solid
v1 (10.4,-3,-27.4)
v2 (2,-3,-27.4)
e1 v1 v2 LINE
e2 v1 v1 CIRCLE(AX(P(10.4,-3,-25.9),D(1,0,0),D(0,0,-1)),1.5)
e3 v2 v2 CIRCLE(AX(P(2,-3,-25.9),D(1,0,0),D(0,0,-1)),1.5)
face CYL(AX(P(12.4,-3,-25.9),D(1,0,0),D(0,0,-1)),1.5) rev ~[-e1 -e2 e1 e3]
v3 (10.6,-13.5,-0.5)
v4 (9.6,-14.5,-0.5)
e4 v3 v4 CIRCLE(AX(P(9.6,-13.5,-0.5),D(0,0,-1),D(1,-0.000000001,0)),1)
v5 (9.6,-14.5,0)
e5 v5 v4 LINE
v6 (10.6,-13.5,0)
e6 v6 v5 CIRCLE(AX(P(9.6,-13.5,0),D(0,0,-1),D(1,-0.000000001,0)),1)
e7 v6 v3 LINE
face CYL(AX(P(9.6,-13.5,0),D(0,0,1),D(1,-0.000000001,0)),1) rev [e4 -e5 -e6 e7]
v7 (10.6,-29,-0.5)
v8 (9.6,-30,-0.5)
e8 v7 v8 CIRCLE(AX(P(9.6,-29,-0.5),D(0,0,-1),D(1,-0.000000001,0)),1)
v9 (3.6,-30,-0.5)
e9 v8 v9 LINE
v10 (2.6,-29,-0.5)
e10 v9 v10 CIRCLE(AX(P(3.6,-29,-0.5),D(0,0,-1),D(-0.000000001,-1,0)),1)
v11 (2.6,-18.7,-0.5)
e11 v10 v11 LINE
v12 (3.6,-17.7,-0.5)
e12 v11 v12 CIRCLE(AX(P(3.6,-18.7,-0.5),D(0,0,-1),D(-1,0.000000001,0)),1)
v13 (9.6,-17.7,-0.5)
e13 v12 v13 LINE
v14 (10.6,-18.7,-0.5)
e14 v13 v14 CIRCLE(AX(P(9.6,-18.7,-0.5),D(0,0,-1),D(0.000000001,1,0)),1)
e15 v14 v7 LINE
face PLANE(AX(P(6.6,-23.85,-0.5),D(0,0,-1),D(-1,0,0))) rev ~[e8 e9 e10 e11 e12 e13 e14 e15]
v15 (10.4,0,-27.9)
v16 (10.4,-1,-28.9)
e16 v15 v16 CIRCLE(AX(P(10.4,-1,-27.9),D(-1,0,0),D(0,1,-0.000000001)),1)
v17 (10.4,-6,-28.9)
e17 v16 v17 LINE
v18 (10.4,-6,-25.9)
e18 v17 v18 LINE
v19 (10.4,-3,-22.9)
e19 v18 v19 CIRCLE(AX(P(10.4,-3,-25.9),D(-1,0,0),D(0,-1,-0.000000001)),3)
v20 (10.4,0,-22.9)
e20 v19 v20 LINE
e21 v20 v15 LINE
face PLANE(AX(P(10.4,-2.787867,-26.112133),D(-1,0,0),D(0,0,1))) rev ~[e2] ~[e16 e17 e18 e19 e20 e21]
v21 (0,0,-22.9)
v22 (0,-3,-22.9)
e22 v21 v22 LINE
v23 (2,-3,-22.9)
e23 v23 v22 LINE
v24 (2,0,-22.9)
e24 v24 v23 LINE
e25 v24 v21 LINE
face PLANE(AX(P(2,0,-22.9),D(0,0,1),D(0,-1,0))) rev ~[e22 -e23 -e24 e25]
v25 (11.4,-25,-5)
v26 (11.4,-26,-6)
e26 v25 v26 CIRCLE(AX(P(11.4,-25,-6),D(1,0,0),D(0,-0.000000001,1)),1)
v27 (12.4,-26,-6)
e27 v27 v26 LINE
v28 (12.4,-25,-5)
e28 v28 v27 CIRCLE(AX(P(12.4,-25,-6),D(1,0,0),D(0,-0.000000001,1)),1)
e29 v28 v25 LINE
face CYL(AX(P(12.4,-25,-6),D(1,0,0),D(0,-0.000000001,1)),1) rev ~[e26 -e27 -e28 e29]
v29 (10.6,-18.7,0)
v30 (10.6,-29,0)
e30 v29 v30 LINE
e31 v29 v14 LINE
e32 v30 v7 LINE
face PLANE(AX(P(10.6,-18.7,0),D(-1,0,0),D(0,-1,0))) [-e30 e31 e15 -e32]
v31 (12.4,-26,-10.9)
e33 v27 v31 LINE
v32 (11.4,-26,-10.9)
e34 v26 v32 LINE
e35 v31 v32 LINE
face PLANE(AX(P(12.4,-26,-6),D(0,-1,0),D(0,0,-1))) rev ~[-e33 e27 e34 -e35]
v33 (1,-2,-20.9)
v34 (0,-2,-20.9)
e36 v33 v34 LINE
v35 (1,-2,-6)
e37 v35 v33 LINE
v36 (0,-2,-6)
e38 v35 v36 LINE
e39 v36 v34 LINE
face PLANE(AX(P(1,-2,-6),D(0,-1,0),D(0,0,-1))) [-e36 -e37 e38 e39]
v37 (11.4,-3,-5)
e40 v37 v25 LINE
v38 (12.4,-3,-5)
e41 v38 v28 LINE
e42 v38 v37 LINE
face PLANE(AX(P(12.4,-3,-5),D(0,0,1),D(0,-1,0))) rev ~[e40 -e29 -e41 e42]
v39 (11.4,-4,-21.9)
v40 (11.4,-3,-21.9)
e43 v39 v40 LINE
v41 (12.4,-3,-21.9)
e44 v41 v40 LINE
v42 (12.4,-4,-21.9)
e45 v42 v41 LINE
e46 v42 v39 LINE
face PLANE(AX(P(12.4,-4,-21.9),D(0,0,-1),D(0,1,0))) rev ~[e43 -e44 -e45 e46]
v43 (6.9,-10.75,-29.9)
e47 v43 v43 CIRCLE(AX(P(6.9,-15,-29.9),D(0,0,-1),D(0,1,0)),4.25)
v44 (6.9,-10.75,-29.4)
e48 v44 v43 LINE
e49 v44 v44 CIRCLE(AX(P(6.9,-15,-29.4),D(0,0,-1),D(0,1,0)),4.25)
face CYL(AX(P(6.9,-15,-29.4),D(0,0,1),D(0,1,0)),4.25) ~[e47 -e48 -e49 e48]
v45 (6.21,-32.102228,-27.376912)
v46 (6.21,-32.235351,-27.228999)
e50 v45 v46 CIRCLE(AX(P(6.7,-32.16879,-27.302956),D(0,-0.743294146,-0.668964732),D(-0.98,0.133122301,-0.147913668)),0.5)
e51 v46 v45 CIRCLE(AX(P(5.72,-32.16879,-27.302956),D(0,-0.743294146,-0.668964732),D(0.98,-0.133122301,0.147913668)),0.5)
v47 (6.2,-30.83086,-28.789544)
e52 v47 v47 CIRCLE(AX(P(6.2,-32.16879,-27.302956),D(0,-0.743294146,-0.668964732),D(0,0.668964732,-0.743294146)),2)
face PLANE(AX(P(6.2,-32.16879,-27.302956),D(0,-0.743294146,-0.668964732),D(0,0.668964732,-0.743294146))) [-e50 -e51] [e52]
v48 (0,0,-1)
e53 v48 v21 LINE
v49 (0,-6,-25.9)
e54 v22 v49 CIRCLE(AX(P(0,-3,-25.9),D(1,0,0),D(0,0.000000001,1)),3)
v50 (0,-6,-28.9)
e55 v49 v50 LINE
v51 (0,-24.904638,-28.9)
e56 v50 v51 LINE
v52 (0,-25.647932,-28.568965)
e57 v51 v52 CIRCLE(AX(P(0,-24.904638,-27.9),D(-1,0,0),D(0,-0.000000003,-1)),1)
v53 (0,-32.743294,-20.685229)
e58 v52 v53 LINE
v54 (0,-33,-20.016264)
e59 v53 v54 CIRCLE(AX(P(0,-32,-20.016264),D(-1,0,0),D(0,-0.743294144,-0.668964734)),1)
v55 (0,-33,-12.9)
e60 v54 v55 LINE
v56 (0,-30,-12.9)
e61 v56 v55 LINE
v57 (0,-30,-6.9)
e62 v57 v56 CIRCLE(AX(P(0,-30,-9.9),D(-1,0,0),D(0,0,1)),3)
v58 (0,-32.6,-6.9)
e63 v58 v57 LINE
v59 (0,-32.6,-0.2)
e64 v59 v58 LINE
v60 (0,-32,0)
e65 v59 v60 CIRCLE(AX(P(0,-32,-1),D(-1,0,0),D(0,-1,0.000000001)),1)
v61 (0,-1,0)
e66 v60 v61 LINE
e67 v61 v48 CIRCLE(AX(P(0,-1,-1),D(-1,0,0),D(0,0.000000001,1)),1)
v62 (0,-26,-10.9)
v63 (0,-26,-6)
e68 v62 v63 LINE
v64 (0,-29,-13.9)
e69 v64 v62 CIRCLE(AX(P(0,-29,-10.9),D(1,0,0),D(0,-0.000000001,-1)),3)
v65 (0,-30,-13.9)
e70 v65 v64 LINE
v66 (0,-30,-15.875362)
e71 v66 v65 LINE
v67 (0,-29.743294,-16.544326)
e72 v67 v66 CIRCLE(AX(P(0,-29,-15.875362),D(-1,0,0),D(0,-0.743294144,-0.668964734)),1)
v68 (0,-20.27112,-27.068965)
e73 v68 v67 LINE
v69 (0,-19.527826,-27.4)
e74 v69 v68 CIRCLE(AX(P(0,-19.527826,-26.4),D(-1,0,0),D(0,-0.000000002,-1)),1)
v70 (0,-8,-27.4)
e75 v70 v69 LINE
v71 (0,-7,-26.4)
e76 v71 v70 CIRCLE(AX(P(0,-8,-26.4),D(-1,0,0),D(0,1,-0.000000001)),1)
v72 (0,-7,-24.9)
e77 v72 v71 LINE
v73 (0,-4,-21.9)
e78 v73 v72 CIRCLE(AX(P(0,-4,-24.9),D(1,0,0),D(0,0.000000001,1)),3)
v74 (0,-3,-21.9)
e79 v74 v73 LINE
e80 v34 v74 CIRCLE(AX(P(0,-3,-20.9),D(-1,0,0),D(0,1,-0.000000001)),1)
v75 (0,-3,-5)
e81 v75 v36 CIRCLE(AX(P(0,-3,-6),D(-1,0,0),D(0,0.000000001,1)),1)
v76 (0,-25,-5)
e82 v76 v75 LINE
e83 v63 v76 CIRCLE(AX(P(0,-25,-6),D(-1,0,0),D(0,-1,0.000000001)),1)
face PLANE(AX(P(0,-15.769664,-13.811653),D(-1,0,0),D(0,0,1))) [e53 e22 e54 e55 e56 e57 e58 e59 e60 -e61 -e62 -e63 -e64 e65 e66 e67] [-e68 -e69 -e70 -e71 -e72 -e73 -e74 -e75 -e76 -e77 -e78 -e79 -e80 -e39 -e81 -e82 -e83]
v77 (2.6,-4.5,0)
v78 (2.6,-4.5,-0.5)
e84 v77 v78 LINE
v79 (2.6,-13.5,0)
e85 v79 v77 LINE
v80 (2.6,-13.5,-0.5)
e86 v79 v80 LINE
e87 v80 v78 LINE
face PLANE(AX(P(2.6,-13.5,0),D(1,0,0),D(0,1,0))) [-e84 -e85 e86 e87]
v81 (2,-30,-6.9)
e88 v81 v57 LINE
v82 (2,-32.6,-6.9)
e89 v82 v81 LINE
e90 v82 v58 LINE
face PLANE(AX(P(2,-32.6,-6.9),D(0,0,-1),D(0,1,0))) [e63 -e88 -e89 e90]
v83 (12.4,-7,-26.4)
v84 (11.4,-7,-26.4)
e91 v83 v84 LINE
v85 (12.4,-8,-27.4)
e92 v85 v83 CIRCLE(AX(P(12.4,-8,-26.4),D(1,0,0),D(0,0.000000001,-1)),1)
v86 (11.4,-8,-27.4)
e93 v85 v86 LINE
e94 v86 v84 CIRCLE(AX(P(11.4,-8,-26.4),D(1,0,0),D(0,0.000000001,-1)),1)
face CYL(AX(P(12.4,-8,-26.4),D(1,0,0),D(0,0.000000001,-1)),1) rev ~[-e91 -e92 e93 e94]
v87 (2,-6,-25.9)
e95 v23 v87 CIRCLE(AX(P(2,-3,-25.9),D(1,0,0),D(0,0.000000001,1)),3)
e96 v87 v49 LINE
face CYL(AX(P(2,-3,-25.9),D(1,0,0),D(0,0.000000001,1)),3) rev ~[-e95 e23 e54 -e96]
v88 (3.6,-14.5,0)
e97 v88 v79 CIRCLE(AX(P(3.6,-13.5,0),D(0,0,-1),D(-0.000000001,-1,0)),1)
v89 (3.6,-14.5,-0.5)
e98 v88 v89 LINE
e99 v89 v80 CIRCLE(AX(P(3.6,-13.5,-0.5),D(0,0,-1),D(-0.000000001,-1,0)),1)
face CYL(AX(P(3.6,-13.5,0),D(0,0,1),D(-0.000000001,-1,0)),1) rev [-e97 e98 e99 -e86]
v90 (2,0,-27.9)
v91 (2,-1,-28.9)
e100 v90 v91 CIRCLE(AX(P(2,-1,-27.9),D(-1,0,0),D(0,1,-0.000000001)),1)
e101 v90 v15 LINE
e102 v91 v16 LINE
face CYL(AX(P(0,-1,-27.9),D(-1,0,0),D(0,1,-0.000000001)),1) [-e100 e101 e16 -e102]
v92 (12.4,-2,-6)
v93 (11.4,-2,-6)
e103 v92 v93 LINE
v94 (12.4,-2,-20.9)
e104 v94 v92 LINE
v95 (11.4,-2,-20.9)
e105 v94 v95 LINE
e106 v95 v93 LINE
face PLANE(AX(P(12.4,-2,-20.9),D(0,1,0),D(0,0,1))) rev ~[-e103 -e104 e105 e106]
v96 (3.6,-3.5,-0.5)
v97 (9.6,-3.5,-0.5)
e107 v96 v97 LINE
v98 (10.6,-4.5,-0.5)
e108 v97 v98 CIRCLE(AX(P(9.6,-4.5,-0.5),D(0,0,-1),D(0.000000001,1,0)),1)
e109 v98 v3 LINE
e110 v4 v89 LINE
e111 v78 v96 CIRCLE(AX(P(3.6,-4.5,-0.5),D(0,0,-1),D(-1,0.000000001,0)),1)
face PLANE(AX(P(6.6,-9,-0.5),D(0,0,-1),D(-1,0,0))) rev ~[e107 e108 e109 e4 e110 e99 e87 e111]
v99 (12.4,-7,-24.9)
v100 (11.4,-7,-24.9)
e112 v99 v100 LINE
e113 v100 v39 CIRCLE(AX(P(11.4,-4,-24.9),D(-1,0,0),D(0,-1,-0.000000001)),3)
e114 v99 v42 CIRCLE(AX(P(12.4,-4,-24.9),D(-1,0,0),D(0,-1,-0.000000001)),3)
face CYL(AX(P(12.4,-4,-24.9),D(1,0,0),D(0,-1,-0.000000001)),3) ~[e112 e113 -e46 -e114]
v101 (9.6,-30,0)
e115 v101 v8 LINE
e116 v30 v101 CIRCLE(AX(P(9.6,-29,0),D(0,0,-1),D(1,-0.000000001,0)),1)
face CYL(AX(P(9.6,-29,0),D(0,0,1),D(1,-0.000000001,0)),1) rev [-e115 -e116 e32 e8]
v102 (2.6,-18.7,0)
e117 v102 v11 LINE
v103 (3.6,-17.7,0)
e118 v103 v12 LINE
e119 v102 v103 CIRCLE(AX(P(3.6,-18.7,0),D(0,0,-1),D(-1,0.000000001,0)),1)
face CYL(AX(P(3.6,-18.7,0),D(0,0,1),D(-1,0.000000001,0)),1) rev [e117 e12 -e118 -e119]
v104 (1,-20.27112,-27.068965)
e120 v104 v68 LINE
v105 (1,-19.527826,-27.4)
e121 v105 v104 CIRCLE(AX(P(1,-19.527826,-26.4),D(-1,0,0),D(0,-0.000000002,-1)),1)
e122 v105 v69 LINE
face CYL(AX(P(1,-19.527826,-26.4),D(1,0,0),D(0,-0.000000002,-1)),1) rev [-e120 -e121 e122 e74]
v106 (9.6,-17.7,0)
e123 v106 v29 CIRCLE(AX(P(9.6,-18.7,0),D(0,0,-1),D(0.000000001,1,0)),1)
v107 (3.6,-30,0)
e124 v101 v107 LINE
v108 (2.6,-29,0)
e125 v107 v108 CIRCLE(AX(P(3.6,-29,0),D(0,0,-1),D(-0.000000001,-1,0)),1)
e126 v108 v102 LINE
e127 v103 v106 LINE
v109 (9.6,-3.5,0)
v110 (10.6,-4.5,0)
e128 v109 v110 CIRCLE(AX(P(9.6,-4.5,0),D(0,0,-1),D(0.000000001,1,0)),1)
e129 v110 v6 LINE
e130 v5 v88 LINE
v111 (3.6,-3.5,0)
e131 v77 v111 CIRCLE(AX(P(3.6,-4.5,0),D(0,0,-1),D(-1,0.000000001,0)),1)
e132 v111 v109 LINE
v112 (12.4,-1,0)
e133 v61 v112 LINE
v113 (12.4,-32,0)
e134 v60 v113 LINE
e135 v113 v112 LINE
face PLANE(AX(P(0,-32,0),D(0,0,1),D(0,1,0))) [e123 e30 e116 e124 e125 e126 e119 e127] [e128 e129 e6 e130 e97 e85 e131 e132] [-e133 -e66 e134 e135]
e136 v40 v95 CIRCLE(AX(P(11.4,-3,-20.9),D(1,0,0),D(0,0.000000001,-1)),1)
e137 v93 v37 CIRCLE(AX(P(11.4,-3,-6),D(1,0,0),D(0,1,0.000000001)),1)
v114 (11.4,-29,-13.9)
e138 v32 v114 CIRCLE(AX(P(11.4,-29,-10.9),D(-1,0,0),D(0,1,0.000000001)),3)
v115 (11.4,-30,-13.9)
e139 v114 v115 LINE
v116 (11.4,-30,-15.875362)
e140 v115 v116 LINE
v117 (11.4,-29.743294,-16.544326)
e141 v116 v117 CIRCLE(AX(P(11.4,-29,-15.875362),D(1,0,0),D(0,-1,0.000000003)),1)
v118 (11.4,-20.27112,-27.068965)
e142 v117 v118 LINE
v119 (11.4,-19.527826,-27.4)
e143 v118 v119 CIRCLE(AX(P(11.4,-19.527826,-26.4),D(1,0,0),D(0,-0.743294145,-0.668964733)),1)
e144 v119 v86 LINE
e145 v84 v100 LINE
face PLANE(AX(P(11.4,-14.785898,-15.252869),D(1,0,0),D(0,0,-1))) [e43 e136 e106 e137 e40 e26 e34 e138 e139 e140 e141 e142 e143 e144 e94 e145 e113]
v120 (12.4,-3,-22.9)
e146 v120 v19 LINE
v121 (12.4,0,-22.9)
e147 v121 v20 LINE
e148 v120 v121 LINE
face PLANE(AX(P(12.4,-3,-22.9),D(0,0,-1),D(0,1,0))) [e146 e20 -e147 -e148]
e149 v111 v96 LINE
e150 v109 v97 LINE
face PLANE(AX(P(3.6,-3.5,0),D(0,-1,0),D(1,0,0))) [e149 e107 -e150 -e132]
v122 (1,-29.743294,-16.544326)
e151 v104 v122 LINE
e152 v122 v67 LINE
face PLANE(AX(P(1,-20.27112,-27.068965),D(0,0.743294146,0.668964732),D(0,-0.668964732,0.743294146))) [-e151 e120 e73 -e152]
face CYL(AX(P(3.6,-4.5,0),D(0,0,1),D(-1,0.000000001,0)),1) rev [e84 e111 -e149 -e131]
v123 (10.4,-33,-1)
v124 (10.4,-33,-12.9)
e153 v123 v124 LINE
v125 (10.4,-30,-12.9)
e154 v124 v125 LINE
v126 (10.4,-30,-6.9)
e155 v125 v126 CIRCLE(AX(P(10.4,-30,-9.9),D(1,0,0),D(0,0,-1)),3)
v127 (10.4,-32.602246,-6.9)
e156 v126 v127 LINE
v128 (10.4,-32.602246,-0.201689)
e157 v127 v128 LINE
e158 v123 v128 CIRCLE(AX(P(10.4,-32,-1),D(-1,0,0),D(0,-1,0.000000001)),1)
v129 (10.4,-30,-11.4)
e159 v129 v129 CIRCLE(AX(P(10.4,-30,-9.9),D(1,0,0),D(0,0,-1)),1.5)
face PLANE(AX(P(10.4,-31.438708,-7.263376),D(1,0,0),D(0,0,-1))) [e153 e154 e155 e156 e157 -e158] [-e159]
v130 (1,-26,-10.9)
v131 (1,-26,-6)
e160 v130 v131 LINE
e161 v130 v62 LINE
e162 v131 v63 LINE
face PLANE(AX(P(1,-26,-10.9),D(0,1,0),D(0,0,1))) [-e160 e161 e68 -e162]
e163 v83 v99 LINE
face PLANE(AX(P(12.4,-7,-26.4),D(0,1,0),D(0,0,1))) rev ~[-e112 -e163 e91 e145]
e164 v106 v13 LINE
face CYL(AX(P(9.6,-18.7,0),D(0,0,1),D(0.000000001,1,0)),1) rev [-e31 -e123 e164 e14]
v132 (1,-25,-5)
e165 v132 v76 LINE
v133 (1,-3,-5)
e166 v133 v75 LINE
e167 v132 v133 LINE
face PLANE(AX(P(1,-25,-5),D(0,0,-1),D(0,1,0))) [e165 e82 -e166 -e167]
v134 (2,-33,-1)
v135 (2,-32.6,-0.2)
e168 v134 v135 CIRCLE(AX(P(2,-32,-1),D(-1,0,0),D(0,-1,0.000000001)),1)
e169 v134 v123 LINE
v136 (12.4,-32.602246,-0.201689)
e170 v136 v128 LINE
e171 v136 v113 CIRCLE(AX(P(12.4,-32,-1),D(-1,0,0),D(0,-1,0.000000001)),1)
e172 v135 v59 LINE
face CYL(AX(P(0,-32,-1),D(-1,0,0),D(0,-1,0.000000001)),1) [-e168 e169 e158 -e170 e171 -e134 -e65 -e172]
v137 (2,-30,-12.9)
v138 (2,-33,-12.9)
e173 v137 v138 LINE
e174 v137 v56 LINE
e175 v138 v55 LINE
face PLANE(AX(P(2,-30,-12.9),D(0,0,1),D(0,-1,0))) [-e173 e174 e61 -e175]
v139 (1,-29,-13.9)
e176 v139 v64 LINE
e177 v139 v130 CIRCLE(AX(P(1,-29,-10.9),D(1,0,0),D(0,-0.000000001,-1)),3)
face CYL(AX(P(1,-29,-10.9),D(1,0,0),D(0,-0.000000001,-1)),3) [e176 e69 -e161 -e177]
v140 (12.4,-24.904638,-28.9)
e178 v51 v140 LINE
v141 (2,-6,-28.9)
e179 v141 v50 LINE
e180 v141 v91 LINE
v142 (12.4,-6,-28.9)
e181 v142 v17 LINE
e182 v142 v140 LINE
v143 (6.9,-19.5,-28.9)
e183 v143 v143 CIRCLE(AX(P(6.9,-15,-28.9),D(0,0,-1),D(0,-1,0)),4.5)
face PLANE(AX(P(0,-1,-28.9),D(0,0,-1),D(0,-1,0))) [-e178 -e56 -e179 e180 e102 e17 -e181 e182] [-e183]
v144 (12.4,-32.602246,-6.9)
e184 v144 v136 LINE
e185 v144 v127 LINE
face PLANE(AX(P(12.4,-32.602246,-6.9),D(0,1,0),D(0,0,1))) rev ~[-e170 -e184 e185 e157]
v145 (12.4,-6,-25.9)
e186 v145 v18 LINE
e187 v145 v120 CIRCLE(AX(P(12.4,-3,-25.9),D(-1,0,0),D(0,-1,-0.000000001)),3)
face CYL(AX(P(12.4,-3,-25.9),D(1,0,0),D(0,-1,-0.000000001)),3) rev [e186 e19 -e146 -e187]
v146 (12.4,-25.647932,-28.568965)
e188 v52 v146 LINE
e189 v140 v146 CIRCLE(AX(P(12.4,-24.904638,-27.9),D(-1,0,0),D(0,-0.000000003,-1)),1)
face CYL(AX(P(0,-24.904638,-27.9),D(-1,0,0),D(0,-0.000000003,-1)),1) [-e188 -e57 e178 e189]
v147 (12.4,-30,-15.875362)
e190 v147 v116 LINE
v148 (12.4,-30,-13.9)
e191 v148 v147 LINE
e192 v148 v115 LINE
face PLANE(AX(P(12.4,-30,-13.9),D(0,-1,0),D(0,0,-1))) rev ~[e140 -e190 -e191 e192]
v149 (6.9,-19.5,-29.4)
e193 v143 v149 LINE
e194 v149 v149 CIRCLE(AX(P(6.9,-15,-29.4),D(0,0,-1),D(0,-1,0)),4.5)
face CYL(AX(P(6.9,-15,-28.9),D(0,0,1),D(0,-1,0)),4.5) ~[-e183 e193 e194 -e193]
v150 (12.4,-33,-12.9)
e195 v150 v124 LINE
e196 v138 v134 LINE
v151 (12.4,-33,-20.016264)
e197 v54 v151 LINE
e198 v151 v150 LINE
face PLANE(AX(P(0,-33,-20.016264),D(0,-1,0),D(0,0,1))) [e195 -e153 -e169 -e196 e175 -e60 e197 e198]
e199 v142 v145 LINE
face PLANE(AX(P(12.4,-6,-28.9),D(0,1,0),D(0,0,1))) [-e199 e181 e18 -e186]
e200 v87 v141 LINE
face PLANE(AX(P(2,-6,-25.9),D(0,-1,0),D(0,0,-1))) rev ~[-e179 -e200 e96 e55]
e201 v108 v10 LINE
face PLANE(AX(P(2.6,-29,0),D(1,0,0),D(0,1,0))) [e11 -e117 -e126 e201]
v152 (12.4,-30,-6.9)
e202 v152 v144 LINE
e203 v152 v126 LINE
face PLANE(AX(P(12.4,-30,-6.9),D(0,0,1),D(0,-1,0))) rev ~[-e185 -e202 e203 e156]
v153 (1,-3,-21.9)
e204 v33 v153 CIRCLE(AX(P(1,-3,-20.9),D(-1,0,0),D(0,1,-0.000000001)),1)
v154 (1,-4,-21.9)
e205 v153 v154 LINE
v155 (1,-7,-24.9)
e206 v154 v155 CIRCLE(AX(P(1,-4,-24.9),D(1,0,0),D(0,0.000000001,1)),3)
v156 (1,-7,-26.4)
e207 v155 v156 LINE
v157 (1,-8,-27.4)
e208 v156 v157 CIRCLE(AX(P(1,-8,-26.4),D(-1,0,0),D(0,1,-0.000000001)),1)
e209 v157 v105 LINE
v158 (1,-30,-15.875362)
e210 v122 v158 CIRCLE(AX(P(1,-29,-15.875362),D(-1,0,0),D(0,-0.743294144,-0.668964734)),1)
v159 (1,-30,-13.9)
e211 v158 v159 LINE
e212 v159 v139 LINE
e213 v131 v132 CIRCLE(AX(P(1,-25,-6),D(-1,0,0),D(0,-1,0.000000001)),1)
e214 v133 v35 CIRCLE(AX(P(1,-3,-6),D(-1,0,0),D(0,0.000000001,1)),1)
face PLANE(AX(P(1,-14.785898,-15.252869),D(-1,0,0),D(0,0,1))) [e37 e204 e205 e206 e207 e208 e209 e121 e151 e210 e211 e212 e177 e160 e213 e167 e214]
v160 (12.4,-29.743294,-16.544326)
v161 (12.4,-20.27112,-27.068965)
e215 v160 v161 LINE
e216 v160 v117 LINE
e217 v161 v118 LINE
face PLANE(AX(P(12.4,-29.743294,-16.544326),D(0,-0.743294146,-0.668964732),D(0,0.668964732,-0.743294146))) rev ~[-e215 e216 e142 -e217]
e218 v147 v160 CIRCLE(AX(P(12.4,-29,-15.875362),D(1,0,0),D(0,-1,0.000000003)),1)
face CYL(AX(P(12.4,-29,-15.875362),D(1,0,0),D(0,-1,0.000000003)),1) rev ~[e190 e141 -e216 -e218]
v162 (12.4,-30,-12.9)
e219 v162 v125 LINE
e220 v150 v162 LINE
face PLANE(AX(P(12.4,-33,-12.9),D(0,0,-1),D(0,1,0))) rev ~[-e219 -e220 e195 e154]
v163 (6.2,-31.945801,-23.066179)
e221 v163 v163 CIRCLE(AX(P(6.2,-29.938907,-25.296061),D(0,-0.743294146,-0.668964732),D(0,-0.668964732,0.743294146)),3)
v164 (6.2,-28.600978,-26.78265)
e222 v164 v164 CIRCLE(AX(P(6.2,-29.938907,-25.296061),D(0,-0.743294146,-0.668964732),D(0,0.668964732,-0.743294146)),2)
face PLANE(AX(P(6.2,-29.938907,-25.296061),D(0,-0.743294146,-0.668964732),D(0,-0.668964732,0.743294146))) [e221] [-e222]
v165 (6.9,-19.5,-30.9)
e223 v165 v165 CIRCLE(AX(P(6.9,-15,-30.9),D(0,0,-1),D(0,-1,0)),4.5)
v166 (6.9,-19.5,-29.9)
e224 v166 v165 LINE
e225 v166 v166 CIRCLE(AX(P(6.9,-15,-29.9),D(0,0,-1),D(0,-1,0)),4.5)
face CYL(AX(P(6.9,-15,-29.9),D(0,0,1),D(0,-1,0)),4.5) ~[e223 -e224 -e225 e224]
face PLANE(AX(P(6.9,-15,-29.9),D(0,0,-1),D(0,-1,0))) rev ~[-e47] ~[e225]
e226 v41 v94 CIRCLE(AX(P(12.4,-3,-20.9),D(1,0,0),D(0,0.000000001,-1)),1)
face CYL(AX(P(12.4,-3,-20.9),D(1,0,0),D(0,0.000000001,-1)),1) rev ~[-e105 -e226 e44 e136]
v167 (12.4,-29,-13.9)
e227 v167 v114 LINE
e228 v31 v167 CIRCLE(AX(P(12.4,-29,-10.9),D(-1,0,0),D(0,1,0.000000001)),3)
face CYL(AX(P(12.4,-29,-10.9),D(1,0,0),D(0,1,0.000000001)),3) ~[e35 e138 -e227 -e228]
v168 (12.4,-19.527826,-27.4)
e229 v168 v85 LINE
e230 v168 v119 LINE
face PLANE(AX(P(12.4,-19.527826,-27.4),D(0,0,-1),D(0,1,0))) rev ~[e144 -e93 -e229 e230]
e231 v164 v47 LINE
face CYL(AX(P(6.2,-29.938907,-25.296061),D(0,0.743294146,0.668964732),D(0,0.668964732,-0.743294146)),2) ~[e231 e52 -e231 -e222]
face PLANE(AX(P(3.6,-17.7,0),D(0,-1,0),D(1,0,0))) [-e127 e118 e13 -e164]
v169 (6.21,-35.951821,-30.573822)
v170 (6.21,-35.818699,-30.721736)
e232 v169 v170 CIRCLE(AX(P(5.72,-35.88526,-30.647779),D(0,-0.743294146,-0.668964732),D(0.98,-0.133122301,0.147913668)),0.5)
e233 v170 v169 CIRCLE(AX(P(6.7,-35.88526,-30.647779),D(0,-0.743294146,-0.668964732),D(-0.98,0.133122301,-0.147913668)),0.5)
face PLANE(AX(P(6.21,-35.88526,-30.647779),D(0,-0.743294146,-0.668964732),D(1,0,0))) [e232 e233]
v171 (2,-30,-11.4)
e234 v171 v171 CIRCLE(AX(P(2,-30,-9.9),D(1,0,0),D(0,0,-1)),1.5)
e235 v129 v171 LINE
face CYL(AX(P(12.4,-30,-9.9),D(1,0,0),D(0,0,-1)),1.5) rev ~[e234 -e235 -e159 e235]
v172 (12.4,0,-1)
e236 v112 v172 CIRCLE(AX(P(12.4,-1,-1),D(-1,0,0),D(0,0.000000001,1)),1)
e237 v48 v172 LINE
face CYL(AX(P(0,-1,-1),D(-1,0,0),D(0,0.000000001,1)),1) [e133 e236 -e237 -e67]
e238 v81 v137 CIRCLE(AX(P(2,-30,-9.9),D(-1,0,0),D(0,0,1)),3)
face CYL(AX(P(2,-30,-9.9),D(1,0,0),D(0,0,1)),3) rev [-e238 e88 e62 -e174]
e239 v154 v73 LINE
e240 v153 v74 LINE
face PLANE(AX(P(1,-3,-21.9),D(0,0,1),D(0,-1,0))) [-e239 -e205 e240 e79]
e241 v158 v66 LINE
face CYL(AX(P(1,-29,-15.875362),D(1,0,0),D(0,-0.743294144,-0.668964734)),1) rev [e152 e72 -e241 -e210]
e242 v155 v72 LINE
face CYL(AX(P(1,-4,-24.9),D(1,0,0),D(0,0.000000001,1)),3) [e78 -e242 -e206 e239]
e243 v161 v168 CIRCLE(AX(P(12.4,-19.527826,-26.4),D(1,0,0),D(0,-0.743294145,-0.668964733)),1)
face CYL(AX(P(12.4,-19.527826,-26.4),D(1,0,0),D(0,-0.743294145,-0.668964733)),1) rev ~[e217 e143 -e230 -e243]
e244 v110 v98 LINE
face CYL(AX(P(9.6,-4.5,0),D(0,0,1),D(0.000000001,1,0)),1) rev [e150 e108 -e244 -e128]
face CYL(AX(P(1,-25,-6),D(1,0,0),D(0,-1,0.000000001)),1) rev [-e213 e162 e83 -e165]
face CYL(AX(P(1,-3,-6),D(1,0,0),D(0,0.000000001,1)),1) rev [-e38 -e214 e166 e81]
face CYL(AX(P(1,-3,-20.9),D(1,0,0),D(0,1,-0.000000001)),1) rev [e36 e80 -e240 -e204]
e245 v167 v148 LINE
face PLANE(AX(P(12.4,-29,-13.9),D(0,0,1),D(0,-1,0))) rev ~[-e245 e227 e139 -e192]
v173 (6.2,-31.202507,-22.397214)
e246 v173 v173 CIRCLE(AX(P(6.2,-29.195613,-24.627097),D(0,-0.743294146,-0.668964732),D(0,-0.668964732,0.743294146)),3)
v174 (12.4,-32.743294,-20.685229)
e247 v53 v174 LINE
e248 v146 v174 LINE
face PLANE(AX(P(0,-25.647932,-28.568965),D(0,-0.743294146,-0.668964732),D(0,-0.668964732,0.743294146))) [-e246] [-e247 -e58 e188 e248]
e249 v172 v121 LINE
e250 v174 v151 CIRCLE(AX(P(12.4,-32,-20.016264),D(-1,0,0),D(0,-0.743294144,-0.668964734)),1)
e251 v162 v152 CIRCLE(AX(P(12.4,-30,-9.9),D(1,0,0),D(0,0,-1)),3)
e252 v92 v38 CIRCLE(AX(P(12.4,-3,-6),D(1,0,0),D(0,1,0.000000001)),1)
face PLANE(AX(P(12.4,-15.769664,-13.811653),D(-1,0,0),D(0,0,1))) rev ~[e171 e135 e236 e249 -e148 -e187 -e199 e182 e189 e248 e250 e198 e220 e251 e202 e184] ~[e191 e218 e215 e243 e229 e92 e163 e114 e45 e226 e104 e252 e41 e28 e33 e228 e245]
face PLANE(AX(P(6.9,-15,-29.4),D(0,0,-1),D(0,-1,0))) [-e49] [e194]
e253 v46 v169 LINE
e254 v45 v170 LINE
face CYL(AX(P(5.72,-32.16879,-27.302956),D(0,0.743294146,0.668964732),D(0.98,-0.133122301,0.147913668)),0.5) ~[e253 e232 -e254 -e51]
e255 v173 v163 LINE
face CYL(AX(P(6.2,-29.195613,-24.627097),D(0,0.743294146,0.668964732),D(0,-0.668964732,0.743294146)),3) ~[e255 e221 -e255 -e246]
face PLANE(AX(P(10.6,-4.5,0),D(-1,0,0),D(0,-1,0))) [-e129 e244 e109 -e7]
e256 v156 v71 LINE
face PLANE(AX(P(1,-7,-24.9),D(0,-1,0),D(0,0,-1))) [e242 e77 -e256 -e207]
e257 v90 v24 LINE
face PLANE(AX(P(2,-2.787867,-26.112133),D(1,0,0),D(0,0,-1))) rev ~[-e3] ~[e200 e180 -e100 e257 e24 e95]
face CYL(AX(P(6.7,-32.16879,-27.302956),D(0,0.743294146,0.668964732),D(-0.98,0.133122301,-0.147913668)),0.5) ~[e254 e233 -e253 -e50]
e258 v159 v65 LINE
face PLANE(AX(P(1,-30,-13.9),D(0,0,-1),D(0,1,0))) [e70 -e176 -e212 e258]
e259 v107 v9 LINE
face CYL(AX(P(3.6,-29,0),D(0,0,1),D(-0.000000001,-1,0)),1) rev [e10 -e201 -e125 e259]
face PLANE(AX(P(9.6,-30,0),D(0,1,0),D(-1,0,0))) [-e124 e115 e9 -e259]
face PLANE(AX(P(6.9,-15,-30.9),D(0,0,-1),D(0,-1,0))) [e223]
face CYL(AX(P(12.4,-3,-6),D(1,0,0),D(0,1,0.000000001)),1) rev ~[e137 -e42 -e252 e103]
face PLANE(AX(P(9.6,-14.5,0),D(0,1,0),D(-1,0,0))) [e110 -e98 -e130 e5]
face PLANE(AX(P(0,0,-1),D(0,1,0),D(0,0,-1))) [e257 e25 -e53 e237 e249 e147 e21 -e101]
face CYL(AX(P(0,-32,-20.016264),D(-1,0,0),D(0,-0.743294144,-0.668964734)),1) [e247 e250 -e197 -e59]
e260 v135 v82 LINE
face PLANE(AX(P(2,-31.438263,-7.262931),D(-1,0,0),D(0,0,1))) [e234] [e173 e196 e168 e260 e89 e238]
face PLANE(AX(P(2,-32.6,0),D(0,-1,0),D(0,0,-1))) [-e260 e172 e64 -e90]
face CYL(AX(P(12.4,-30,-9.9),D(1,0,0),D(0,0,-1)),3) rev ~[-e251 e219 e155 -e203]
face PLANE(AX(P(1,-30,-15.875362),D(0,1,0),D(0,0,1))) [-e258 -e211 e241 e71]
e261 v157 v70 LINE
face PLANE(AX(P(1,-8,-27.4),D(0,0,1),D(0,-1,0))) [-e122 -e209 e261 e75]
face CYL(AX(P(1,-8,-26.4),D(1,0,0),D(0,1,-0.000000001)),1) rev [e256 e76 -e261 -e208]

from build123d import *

# Parameters (mm, degrees)
BOSS_EXTRUDE1_DEPTH = 12.4
SKETCH2_R           = 1.5
CUT_EXTRUDE1_DEPTH  = 46.584756224
CUT_EXTRUDE2_DEPTH  = 2
CUT_EXTRUDE3_START  = -2
CUT_EXTRUDE3_DEPTH  = 2
CUT_EXTRUDE4_DEPTH  = 1
CUT_EXTRUDE5_START  = -1
CUT_EXTRUDE5_DEPTH  = 1
CUT_EXTRUDE6_DEPTH  = 0.5
SKETCH9_R           = 4.5
BOSS_EXTRUDE2_DEPTH = 0.5
SKETCH10_R          = 4.25
BOSS_EXTRUDE3_DEPTH = 0.5
SKETCH11_R          = 4.5
BOSS_EXTRUDE4_DEPTH = 1
SKETCH12_R          = 3
BOSS_EXTRUDE5_DEPTH = 1
SKETCH13_R          = 2
BOSS_EXTRUDE6_DEPTH = 3
BOSS_EXTRUDE7_DEPTH = 5


with BuildPart() as part:
    # Sketch1 → Boss-Extrude1 (new body)
    with BuildSketch(Plane(origin=(0, 0, 0), x_dir=(0, 0, -1), z_dir=(1, 0, 0))):
        with BuildLine():
            Line((1, 0), (27.9, 0))
            ThreePointArc((27.9, 0), (28.607106781, -0.292893219), (28.9, -1))
            Line((28.9, -1), (28.9, -24.904637595))
            ThreePointArc((28.9, -24.904637595), (28.813500063, -25.31147618), (28.568964732, -25.647931742))
            Line((28.568964732, -25.647931742), (20.685228726, -32.743294146))
            ThreePointArc((20.685228726, -32.743294146), (20.374527762, -32.933620412), (20.016263995, -33))
            Line((20.016263995, -33), (1, -33))
            ThreePointArc((1, -33), (0.292893219, -32.707106781), (0, -32))
            Line((0, -32), (0, -1))
            ThreePointArc((0, -1), (0.292893219, -0.292893219), (1, 0))
        make_face()
    extrude(amount=BOSS_EXTRUDE1_DEPTH)

    # Sketch2 → Cut-Extrude1 (cut, through all)
    with BuildSketch(Plane(origin=(12.4, 0, 0), x_dir=(0, 0, -1), z_dir=(1, 0, 0))):
        with Locations((25.9, -3)):
            Circle(SKETCH2_R)
        with Locations((9.9, -30)):
            Circle(SKETCH2_R)
    extrude(amount=-CUT_EXTRUDE1_DEPTH, mode=Mode.SUBTRACT)

    # Sketch3 → Cut-Extrude2 (cut)
    with BuildSketch(Plane(origin=(12.4, 0, 0), x_dir=(0, 0, -1), z_dir=(1, 0, 0))):
        with BuildLine():
            Line((6.9, -30), (6.9, -32.602246067))
            Line((6.9, -32.602246067), (0, -32.602246067))
            Line((0, -32.602246067), (0, -33))
            Line((0, -33), (6.9, -33))
            Line((6.9, -33), (12.9, -33))
            Line((12.9, -33), (12.9, -30))
            ThreePointArc((12.9, -30), (9.9, -27), (6.9, -30))
        make_face()
        with BuildLine():
            Line((22.9, 0), (28.9, 0))
            Line((28.9, 0), (28.9, -6))
            Line((28.9, -6), (25.9, -6))
            ThreePointArc((25.9, -6), (23.778679656, -5.121320344), (22.9, -3))
            Line((22.9, -3), (22.9, 0))
        make_face()
    extrude(amount=-CUT_EXTRUDE2_DEPTH, mode=Mode.SUBTRACT)

    # Sketch4 → Cut-Extrude3 (cut)
    with BuildSketch(Plane.ZY.offset(CUT_EXTRUDE3_START)):
        with BuildLine():
            Line((-12.9, -30), (-12.9, -33))
            Line((-12.9, -33), (-6.9, -33))
            Line((-6.9, -33), (0, -33))
            Line((0, -33), (0, -32.6))
            Line((0, -32.6), (-6.9, -32.6))
            Line((-6.9, -32.6), (-6.9, -30))
            ThreePointArc((-6.9, -30), (-9.9, -27), (-12.9, -30))
        make_face()
        with BuildLine():
            Line((-28.9, 0), (-22.9, 0))
            Line((-22.9, 0), (-22.9, -3))
            ThreePointArc((-22.9, -3), (-23.778679656, -5.121320344), (-25.9, -6))
            Line((-25.9, -6), (-28.9, -6))
            Line((-28.9, -6), (-28.9, 0))
        make_face()
    extrude(amount=CUT_EXTRUDE3_DEPTH, mode=Mode.SUBTRACT)

    # Sketch5 → Cut-Extrude4 (cut)
    with BuildSketch(Plane(origin=(12.4, 0, 0), x_dir=(0, 0, -1), z_dir=(1, 0, 0))):
        with BuildLine():
            Line((5, -3), (5, -25))
            ThreePointArc((5, -25), (5.292893219, -25.707106781), (6, -26))
            Line((6, -26), (10.9, -26))
            ThreePointArc((10.9, -26), (13.021320344, -26.878679656), (13.9, -29))
            Line((13.9, -29), (13.9, -30))
            Line((13.9, -30), (15.875361746, -30))
            ThreePointArc((15.875361746, -30), (16.233625514, -29.933620412), (16.544326478, -29.743294146))
            Line((16.544326478, -29.743294146), (27.068964732, -20.271119718))
            ThreePointArc((27.068964732, -20.271119718), (27.313500063, -19.934664157), (27.4, -19.527825572))
            Line((27.4, -19.527825572), (27.4, -8))
            ThreePointArc((27.4, -8), (27.107106781, -7.292893219), (26.4, -7))
            Line((26.4, -7), (24.9, -7))
            ThreePointArc((24.9, -7), (22.778679656, -6.121320344), (21.9, -4))
            Line((21.9, -4), (21.9, -3))
            ThreePointArc((21.9, -3), (21.607106781, -2.292893219), (20.9, -2))
            Line((20.9, -2), (6, -2))
            ThreePointArc((6, -2), (5.292893219, -2.292893219), (5, -3))
        make_face()
    extrude(amount=-CUT_EXTRUDE4_DEPTH, mode=Mode.SUBTRACT)

    # Sketch6 → Cut-Extrude5 (cut)
    with BuildSketch(Plane.ZY.offset(CUT_EXTRUDE5_START)):
        with BuildLine():
            Line((-6, -2), (-20.9, -2))
            ThreePointArc((-20.9, -2), (-21.607106781, -2.292893219), (-21.9, -3))
            Line((-21.9, -3), (-21.9, -4))
            ThreePointArc((-21.9, -4), (-22.778679656, -6.121320344), (-24.9, -7))
            Line((-24.9, -7), (-26.4, -7))
            ThreePointArc((-26.4, -7), (-27.107106781, -7.292893219), (-27.4, -8))
            Line((-27.4, -8), (-27.4, -19.527825572))
            ThreePointArc((-27.4, -19.527825572), (-27.313500063, -19.934664157), (-27.068964732, -20.271119718))
            Line((-27.068964732, -20.271119718), (-16.544326478, -29.743294146))
            ThreePointArc((-16.544326478, -29.743294146), (-16.233625514, -29.933620412), (-15.875361746, -30))
            Line((-15.875361746, -30), (-13.9, -30))
            Line((-13.9, -30), (-13.9, -29))
            ThreePointArc((-13.9, -29), (-13.021320344, -26.878679656), (-10.9, -26))
            Line((-10.9, -26), (-6, -26))
            ThreePointArc((-6, -26), (-5.292893219, -25.707106781), (-5, -25))
            Line((-5, -25), (-5, -3))
            ThreePointArc((-5, -3), (-5.292893219, -2.292893219), (-6, -2))
        make_face()
    extrude(amount=CUT_EXTRUDE5_DEPTH, mode=Mode.SUBTRACT)

    # Sketch8 → Cut-Extrude6 (cut)
    with BuildSketch(Plane.XY):
        with BuildLine():
            Line((3.6, -3.5), (9.6, -3.5))
            ThreePointArc((9.6, -3.5), (10.307106781, -3.792893219), (10.6, -4.5))
            Line((10.6, -4.5), (10.6, -13.5))
            ThreePointArc((10.6, -13.5), (10.307106781, -14.207106781), (9.6, -14.5))
            Line((9.6, -14.5), (3.6, -14.5))
            ThreePointArc((3.6, -14.5), (2.892893219, -14.207106781), (2.6, -13.5))
            Line((2.6, -13.5), (2.6, -4.5))
            ThreePointArc((2.6, -4.5), (2.892893219, -3.792893219), (3.6, -3.5))
        make_face()
        with BuildLine():
            Line((3.6, -17.7), (9.6, -17.7))
            ThreePointArc((9.6, -17.7), (10.307106781, -17.992893219), (10.6, -18.7))
            Line((10.6, -18.7), (10.6, -29))
            ThreePointArc((10.6, -29), (10.307106781, -29.707106781), (9.6, -30))
            Line((9.6, -30), (3.6, -30))
            ThreePointArc((3.6, -30), (2.892893219, -29.707106781), (2.6, -29))
            Line((2.6, -29), (2.6, -18.7))
            ThreePointArc((2.6, -18.7), (2.892893219, -17.992893219), (3.6, -17.7))
        make_face()
    extrude(amount=-CUT_EXTRUDE6_DEPTH, mode=Mode.SUBTRACT)

    # Sketch9 → Boss-Extrude2 (add)
    with BuildSketch(Plane(origin=(0, 0, -28.9), x_dir=(-1, 0, 0), z_dir=(0, 0, -1))):
        with Locations(Location((-6.9, -15, 0), (0, 0, 270))):
            Circle(SKETCH9_R)
    extrude(amount=BOSS_EXTRUDE2_DEPTH)

    # Sketch10 → Boss-Extrude3 (add)
    with BuildSketch(Plane(origin=(0, 0, -29.4), x_dir=(-1, 0, 0), z_dir=(0, 0, -1))):
        with Locations(Location((-6.9, -15, 0), (0, 0, 90))):
            Circle(SKETCH10_R)
    extrude(amount=BOSS_EXTRUDE3_DEPTH)

    # Sketch11 → Boss-Extrude4 (add)
    with BuildSketch(Plane(origin=(0, 0, -29.9), x_dir=(-1, 0, 0), z_dir=(0, 0, -1))):
        with Locations(Location((-6.9, -15, 0), (0, 0, 270))):
            Circle(SKETCH11_R)
    extrude(amount=BOSS_EXTRUDE4_DEPTH)

    # Sketch12 → Boss-Extrude5 (add)
    with BuildSketch(Plane(origin=(0, -28.375690608, -25.538121547), x_dir=(1, 0, 0), z_dir=(0, -0.7432941462471664, -0.6689647316224496))):
        with Locations(Location((6.2, 1.22565854, 0), (0, 0, 90))):
            Circle(SKETCH12_R)
    extrude(amount=BOSS_EXTRUDE5_DEPTH)

    # Sketch13 → Boss-Extrude6 (add)
    with BuildSketch(Plane(origin=(0, -29.118984754, -26.207086279), x_dir=(1, 0, 0), z_dir=(0, -0.7432941462471664, -0.6689647316224496))):
        with Locations(Location((6.2, 1.22565854, 0), (0, 0, 270))):
            Circle(SKETCH13_R)
    extrude(amount=BOSS_EXTRUDE6_DEPTH)

    # Sketch14 → Boss-Extrude7 (add)
    with BuildSketch(Plane(origin=(0, -31.348867193, -28.213980473), x_dir=(1, 0, 0), z_dir=(0, -0.7432941462471664, -0.6689647316224496))):
        with BuildLine():
            ThreePointArc((6.21, 1.126159796), (7.2, 1.22565854), (6.21, 1.325157284))
            ThreePointArc((6.21, 1.325157284), (5.22, 1.22565854), (6.21, 1.126159796))
        make_face()
    extrude(amount=BOSS_EXTRUDE7_DEPTH)


solid = part.part
